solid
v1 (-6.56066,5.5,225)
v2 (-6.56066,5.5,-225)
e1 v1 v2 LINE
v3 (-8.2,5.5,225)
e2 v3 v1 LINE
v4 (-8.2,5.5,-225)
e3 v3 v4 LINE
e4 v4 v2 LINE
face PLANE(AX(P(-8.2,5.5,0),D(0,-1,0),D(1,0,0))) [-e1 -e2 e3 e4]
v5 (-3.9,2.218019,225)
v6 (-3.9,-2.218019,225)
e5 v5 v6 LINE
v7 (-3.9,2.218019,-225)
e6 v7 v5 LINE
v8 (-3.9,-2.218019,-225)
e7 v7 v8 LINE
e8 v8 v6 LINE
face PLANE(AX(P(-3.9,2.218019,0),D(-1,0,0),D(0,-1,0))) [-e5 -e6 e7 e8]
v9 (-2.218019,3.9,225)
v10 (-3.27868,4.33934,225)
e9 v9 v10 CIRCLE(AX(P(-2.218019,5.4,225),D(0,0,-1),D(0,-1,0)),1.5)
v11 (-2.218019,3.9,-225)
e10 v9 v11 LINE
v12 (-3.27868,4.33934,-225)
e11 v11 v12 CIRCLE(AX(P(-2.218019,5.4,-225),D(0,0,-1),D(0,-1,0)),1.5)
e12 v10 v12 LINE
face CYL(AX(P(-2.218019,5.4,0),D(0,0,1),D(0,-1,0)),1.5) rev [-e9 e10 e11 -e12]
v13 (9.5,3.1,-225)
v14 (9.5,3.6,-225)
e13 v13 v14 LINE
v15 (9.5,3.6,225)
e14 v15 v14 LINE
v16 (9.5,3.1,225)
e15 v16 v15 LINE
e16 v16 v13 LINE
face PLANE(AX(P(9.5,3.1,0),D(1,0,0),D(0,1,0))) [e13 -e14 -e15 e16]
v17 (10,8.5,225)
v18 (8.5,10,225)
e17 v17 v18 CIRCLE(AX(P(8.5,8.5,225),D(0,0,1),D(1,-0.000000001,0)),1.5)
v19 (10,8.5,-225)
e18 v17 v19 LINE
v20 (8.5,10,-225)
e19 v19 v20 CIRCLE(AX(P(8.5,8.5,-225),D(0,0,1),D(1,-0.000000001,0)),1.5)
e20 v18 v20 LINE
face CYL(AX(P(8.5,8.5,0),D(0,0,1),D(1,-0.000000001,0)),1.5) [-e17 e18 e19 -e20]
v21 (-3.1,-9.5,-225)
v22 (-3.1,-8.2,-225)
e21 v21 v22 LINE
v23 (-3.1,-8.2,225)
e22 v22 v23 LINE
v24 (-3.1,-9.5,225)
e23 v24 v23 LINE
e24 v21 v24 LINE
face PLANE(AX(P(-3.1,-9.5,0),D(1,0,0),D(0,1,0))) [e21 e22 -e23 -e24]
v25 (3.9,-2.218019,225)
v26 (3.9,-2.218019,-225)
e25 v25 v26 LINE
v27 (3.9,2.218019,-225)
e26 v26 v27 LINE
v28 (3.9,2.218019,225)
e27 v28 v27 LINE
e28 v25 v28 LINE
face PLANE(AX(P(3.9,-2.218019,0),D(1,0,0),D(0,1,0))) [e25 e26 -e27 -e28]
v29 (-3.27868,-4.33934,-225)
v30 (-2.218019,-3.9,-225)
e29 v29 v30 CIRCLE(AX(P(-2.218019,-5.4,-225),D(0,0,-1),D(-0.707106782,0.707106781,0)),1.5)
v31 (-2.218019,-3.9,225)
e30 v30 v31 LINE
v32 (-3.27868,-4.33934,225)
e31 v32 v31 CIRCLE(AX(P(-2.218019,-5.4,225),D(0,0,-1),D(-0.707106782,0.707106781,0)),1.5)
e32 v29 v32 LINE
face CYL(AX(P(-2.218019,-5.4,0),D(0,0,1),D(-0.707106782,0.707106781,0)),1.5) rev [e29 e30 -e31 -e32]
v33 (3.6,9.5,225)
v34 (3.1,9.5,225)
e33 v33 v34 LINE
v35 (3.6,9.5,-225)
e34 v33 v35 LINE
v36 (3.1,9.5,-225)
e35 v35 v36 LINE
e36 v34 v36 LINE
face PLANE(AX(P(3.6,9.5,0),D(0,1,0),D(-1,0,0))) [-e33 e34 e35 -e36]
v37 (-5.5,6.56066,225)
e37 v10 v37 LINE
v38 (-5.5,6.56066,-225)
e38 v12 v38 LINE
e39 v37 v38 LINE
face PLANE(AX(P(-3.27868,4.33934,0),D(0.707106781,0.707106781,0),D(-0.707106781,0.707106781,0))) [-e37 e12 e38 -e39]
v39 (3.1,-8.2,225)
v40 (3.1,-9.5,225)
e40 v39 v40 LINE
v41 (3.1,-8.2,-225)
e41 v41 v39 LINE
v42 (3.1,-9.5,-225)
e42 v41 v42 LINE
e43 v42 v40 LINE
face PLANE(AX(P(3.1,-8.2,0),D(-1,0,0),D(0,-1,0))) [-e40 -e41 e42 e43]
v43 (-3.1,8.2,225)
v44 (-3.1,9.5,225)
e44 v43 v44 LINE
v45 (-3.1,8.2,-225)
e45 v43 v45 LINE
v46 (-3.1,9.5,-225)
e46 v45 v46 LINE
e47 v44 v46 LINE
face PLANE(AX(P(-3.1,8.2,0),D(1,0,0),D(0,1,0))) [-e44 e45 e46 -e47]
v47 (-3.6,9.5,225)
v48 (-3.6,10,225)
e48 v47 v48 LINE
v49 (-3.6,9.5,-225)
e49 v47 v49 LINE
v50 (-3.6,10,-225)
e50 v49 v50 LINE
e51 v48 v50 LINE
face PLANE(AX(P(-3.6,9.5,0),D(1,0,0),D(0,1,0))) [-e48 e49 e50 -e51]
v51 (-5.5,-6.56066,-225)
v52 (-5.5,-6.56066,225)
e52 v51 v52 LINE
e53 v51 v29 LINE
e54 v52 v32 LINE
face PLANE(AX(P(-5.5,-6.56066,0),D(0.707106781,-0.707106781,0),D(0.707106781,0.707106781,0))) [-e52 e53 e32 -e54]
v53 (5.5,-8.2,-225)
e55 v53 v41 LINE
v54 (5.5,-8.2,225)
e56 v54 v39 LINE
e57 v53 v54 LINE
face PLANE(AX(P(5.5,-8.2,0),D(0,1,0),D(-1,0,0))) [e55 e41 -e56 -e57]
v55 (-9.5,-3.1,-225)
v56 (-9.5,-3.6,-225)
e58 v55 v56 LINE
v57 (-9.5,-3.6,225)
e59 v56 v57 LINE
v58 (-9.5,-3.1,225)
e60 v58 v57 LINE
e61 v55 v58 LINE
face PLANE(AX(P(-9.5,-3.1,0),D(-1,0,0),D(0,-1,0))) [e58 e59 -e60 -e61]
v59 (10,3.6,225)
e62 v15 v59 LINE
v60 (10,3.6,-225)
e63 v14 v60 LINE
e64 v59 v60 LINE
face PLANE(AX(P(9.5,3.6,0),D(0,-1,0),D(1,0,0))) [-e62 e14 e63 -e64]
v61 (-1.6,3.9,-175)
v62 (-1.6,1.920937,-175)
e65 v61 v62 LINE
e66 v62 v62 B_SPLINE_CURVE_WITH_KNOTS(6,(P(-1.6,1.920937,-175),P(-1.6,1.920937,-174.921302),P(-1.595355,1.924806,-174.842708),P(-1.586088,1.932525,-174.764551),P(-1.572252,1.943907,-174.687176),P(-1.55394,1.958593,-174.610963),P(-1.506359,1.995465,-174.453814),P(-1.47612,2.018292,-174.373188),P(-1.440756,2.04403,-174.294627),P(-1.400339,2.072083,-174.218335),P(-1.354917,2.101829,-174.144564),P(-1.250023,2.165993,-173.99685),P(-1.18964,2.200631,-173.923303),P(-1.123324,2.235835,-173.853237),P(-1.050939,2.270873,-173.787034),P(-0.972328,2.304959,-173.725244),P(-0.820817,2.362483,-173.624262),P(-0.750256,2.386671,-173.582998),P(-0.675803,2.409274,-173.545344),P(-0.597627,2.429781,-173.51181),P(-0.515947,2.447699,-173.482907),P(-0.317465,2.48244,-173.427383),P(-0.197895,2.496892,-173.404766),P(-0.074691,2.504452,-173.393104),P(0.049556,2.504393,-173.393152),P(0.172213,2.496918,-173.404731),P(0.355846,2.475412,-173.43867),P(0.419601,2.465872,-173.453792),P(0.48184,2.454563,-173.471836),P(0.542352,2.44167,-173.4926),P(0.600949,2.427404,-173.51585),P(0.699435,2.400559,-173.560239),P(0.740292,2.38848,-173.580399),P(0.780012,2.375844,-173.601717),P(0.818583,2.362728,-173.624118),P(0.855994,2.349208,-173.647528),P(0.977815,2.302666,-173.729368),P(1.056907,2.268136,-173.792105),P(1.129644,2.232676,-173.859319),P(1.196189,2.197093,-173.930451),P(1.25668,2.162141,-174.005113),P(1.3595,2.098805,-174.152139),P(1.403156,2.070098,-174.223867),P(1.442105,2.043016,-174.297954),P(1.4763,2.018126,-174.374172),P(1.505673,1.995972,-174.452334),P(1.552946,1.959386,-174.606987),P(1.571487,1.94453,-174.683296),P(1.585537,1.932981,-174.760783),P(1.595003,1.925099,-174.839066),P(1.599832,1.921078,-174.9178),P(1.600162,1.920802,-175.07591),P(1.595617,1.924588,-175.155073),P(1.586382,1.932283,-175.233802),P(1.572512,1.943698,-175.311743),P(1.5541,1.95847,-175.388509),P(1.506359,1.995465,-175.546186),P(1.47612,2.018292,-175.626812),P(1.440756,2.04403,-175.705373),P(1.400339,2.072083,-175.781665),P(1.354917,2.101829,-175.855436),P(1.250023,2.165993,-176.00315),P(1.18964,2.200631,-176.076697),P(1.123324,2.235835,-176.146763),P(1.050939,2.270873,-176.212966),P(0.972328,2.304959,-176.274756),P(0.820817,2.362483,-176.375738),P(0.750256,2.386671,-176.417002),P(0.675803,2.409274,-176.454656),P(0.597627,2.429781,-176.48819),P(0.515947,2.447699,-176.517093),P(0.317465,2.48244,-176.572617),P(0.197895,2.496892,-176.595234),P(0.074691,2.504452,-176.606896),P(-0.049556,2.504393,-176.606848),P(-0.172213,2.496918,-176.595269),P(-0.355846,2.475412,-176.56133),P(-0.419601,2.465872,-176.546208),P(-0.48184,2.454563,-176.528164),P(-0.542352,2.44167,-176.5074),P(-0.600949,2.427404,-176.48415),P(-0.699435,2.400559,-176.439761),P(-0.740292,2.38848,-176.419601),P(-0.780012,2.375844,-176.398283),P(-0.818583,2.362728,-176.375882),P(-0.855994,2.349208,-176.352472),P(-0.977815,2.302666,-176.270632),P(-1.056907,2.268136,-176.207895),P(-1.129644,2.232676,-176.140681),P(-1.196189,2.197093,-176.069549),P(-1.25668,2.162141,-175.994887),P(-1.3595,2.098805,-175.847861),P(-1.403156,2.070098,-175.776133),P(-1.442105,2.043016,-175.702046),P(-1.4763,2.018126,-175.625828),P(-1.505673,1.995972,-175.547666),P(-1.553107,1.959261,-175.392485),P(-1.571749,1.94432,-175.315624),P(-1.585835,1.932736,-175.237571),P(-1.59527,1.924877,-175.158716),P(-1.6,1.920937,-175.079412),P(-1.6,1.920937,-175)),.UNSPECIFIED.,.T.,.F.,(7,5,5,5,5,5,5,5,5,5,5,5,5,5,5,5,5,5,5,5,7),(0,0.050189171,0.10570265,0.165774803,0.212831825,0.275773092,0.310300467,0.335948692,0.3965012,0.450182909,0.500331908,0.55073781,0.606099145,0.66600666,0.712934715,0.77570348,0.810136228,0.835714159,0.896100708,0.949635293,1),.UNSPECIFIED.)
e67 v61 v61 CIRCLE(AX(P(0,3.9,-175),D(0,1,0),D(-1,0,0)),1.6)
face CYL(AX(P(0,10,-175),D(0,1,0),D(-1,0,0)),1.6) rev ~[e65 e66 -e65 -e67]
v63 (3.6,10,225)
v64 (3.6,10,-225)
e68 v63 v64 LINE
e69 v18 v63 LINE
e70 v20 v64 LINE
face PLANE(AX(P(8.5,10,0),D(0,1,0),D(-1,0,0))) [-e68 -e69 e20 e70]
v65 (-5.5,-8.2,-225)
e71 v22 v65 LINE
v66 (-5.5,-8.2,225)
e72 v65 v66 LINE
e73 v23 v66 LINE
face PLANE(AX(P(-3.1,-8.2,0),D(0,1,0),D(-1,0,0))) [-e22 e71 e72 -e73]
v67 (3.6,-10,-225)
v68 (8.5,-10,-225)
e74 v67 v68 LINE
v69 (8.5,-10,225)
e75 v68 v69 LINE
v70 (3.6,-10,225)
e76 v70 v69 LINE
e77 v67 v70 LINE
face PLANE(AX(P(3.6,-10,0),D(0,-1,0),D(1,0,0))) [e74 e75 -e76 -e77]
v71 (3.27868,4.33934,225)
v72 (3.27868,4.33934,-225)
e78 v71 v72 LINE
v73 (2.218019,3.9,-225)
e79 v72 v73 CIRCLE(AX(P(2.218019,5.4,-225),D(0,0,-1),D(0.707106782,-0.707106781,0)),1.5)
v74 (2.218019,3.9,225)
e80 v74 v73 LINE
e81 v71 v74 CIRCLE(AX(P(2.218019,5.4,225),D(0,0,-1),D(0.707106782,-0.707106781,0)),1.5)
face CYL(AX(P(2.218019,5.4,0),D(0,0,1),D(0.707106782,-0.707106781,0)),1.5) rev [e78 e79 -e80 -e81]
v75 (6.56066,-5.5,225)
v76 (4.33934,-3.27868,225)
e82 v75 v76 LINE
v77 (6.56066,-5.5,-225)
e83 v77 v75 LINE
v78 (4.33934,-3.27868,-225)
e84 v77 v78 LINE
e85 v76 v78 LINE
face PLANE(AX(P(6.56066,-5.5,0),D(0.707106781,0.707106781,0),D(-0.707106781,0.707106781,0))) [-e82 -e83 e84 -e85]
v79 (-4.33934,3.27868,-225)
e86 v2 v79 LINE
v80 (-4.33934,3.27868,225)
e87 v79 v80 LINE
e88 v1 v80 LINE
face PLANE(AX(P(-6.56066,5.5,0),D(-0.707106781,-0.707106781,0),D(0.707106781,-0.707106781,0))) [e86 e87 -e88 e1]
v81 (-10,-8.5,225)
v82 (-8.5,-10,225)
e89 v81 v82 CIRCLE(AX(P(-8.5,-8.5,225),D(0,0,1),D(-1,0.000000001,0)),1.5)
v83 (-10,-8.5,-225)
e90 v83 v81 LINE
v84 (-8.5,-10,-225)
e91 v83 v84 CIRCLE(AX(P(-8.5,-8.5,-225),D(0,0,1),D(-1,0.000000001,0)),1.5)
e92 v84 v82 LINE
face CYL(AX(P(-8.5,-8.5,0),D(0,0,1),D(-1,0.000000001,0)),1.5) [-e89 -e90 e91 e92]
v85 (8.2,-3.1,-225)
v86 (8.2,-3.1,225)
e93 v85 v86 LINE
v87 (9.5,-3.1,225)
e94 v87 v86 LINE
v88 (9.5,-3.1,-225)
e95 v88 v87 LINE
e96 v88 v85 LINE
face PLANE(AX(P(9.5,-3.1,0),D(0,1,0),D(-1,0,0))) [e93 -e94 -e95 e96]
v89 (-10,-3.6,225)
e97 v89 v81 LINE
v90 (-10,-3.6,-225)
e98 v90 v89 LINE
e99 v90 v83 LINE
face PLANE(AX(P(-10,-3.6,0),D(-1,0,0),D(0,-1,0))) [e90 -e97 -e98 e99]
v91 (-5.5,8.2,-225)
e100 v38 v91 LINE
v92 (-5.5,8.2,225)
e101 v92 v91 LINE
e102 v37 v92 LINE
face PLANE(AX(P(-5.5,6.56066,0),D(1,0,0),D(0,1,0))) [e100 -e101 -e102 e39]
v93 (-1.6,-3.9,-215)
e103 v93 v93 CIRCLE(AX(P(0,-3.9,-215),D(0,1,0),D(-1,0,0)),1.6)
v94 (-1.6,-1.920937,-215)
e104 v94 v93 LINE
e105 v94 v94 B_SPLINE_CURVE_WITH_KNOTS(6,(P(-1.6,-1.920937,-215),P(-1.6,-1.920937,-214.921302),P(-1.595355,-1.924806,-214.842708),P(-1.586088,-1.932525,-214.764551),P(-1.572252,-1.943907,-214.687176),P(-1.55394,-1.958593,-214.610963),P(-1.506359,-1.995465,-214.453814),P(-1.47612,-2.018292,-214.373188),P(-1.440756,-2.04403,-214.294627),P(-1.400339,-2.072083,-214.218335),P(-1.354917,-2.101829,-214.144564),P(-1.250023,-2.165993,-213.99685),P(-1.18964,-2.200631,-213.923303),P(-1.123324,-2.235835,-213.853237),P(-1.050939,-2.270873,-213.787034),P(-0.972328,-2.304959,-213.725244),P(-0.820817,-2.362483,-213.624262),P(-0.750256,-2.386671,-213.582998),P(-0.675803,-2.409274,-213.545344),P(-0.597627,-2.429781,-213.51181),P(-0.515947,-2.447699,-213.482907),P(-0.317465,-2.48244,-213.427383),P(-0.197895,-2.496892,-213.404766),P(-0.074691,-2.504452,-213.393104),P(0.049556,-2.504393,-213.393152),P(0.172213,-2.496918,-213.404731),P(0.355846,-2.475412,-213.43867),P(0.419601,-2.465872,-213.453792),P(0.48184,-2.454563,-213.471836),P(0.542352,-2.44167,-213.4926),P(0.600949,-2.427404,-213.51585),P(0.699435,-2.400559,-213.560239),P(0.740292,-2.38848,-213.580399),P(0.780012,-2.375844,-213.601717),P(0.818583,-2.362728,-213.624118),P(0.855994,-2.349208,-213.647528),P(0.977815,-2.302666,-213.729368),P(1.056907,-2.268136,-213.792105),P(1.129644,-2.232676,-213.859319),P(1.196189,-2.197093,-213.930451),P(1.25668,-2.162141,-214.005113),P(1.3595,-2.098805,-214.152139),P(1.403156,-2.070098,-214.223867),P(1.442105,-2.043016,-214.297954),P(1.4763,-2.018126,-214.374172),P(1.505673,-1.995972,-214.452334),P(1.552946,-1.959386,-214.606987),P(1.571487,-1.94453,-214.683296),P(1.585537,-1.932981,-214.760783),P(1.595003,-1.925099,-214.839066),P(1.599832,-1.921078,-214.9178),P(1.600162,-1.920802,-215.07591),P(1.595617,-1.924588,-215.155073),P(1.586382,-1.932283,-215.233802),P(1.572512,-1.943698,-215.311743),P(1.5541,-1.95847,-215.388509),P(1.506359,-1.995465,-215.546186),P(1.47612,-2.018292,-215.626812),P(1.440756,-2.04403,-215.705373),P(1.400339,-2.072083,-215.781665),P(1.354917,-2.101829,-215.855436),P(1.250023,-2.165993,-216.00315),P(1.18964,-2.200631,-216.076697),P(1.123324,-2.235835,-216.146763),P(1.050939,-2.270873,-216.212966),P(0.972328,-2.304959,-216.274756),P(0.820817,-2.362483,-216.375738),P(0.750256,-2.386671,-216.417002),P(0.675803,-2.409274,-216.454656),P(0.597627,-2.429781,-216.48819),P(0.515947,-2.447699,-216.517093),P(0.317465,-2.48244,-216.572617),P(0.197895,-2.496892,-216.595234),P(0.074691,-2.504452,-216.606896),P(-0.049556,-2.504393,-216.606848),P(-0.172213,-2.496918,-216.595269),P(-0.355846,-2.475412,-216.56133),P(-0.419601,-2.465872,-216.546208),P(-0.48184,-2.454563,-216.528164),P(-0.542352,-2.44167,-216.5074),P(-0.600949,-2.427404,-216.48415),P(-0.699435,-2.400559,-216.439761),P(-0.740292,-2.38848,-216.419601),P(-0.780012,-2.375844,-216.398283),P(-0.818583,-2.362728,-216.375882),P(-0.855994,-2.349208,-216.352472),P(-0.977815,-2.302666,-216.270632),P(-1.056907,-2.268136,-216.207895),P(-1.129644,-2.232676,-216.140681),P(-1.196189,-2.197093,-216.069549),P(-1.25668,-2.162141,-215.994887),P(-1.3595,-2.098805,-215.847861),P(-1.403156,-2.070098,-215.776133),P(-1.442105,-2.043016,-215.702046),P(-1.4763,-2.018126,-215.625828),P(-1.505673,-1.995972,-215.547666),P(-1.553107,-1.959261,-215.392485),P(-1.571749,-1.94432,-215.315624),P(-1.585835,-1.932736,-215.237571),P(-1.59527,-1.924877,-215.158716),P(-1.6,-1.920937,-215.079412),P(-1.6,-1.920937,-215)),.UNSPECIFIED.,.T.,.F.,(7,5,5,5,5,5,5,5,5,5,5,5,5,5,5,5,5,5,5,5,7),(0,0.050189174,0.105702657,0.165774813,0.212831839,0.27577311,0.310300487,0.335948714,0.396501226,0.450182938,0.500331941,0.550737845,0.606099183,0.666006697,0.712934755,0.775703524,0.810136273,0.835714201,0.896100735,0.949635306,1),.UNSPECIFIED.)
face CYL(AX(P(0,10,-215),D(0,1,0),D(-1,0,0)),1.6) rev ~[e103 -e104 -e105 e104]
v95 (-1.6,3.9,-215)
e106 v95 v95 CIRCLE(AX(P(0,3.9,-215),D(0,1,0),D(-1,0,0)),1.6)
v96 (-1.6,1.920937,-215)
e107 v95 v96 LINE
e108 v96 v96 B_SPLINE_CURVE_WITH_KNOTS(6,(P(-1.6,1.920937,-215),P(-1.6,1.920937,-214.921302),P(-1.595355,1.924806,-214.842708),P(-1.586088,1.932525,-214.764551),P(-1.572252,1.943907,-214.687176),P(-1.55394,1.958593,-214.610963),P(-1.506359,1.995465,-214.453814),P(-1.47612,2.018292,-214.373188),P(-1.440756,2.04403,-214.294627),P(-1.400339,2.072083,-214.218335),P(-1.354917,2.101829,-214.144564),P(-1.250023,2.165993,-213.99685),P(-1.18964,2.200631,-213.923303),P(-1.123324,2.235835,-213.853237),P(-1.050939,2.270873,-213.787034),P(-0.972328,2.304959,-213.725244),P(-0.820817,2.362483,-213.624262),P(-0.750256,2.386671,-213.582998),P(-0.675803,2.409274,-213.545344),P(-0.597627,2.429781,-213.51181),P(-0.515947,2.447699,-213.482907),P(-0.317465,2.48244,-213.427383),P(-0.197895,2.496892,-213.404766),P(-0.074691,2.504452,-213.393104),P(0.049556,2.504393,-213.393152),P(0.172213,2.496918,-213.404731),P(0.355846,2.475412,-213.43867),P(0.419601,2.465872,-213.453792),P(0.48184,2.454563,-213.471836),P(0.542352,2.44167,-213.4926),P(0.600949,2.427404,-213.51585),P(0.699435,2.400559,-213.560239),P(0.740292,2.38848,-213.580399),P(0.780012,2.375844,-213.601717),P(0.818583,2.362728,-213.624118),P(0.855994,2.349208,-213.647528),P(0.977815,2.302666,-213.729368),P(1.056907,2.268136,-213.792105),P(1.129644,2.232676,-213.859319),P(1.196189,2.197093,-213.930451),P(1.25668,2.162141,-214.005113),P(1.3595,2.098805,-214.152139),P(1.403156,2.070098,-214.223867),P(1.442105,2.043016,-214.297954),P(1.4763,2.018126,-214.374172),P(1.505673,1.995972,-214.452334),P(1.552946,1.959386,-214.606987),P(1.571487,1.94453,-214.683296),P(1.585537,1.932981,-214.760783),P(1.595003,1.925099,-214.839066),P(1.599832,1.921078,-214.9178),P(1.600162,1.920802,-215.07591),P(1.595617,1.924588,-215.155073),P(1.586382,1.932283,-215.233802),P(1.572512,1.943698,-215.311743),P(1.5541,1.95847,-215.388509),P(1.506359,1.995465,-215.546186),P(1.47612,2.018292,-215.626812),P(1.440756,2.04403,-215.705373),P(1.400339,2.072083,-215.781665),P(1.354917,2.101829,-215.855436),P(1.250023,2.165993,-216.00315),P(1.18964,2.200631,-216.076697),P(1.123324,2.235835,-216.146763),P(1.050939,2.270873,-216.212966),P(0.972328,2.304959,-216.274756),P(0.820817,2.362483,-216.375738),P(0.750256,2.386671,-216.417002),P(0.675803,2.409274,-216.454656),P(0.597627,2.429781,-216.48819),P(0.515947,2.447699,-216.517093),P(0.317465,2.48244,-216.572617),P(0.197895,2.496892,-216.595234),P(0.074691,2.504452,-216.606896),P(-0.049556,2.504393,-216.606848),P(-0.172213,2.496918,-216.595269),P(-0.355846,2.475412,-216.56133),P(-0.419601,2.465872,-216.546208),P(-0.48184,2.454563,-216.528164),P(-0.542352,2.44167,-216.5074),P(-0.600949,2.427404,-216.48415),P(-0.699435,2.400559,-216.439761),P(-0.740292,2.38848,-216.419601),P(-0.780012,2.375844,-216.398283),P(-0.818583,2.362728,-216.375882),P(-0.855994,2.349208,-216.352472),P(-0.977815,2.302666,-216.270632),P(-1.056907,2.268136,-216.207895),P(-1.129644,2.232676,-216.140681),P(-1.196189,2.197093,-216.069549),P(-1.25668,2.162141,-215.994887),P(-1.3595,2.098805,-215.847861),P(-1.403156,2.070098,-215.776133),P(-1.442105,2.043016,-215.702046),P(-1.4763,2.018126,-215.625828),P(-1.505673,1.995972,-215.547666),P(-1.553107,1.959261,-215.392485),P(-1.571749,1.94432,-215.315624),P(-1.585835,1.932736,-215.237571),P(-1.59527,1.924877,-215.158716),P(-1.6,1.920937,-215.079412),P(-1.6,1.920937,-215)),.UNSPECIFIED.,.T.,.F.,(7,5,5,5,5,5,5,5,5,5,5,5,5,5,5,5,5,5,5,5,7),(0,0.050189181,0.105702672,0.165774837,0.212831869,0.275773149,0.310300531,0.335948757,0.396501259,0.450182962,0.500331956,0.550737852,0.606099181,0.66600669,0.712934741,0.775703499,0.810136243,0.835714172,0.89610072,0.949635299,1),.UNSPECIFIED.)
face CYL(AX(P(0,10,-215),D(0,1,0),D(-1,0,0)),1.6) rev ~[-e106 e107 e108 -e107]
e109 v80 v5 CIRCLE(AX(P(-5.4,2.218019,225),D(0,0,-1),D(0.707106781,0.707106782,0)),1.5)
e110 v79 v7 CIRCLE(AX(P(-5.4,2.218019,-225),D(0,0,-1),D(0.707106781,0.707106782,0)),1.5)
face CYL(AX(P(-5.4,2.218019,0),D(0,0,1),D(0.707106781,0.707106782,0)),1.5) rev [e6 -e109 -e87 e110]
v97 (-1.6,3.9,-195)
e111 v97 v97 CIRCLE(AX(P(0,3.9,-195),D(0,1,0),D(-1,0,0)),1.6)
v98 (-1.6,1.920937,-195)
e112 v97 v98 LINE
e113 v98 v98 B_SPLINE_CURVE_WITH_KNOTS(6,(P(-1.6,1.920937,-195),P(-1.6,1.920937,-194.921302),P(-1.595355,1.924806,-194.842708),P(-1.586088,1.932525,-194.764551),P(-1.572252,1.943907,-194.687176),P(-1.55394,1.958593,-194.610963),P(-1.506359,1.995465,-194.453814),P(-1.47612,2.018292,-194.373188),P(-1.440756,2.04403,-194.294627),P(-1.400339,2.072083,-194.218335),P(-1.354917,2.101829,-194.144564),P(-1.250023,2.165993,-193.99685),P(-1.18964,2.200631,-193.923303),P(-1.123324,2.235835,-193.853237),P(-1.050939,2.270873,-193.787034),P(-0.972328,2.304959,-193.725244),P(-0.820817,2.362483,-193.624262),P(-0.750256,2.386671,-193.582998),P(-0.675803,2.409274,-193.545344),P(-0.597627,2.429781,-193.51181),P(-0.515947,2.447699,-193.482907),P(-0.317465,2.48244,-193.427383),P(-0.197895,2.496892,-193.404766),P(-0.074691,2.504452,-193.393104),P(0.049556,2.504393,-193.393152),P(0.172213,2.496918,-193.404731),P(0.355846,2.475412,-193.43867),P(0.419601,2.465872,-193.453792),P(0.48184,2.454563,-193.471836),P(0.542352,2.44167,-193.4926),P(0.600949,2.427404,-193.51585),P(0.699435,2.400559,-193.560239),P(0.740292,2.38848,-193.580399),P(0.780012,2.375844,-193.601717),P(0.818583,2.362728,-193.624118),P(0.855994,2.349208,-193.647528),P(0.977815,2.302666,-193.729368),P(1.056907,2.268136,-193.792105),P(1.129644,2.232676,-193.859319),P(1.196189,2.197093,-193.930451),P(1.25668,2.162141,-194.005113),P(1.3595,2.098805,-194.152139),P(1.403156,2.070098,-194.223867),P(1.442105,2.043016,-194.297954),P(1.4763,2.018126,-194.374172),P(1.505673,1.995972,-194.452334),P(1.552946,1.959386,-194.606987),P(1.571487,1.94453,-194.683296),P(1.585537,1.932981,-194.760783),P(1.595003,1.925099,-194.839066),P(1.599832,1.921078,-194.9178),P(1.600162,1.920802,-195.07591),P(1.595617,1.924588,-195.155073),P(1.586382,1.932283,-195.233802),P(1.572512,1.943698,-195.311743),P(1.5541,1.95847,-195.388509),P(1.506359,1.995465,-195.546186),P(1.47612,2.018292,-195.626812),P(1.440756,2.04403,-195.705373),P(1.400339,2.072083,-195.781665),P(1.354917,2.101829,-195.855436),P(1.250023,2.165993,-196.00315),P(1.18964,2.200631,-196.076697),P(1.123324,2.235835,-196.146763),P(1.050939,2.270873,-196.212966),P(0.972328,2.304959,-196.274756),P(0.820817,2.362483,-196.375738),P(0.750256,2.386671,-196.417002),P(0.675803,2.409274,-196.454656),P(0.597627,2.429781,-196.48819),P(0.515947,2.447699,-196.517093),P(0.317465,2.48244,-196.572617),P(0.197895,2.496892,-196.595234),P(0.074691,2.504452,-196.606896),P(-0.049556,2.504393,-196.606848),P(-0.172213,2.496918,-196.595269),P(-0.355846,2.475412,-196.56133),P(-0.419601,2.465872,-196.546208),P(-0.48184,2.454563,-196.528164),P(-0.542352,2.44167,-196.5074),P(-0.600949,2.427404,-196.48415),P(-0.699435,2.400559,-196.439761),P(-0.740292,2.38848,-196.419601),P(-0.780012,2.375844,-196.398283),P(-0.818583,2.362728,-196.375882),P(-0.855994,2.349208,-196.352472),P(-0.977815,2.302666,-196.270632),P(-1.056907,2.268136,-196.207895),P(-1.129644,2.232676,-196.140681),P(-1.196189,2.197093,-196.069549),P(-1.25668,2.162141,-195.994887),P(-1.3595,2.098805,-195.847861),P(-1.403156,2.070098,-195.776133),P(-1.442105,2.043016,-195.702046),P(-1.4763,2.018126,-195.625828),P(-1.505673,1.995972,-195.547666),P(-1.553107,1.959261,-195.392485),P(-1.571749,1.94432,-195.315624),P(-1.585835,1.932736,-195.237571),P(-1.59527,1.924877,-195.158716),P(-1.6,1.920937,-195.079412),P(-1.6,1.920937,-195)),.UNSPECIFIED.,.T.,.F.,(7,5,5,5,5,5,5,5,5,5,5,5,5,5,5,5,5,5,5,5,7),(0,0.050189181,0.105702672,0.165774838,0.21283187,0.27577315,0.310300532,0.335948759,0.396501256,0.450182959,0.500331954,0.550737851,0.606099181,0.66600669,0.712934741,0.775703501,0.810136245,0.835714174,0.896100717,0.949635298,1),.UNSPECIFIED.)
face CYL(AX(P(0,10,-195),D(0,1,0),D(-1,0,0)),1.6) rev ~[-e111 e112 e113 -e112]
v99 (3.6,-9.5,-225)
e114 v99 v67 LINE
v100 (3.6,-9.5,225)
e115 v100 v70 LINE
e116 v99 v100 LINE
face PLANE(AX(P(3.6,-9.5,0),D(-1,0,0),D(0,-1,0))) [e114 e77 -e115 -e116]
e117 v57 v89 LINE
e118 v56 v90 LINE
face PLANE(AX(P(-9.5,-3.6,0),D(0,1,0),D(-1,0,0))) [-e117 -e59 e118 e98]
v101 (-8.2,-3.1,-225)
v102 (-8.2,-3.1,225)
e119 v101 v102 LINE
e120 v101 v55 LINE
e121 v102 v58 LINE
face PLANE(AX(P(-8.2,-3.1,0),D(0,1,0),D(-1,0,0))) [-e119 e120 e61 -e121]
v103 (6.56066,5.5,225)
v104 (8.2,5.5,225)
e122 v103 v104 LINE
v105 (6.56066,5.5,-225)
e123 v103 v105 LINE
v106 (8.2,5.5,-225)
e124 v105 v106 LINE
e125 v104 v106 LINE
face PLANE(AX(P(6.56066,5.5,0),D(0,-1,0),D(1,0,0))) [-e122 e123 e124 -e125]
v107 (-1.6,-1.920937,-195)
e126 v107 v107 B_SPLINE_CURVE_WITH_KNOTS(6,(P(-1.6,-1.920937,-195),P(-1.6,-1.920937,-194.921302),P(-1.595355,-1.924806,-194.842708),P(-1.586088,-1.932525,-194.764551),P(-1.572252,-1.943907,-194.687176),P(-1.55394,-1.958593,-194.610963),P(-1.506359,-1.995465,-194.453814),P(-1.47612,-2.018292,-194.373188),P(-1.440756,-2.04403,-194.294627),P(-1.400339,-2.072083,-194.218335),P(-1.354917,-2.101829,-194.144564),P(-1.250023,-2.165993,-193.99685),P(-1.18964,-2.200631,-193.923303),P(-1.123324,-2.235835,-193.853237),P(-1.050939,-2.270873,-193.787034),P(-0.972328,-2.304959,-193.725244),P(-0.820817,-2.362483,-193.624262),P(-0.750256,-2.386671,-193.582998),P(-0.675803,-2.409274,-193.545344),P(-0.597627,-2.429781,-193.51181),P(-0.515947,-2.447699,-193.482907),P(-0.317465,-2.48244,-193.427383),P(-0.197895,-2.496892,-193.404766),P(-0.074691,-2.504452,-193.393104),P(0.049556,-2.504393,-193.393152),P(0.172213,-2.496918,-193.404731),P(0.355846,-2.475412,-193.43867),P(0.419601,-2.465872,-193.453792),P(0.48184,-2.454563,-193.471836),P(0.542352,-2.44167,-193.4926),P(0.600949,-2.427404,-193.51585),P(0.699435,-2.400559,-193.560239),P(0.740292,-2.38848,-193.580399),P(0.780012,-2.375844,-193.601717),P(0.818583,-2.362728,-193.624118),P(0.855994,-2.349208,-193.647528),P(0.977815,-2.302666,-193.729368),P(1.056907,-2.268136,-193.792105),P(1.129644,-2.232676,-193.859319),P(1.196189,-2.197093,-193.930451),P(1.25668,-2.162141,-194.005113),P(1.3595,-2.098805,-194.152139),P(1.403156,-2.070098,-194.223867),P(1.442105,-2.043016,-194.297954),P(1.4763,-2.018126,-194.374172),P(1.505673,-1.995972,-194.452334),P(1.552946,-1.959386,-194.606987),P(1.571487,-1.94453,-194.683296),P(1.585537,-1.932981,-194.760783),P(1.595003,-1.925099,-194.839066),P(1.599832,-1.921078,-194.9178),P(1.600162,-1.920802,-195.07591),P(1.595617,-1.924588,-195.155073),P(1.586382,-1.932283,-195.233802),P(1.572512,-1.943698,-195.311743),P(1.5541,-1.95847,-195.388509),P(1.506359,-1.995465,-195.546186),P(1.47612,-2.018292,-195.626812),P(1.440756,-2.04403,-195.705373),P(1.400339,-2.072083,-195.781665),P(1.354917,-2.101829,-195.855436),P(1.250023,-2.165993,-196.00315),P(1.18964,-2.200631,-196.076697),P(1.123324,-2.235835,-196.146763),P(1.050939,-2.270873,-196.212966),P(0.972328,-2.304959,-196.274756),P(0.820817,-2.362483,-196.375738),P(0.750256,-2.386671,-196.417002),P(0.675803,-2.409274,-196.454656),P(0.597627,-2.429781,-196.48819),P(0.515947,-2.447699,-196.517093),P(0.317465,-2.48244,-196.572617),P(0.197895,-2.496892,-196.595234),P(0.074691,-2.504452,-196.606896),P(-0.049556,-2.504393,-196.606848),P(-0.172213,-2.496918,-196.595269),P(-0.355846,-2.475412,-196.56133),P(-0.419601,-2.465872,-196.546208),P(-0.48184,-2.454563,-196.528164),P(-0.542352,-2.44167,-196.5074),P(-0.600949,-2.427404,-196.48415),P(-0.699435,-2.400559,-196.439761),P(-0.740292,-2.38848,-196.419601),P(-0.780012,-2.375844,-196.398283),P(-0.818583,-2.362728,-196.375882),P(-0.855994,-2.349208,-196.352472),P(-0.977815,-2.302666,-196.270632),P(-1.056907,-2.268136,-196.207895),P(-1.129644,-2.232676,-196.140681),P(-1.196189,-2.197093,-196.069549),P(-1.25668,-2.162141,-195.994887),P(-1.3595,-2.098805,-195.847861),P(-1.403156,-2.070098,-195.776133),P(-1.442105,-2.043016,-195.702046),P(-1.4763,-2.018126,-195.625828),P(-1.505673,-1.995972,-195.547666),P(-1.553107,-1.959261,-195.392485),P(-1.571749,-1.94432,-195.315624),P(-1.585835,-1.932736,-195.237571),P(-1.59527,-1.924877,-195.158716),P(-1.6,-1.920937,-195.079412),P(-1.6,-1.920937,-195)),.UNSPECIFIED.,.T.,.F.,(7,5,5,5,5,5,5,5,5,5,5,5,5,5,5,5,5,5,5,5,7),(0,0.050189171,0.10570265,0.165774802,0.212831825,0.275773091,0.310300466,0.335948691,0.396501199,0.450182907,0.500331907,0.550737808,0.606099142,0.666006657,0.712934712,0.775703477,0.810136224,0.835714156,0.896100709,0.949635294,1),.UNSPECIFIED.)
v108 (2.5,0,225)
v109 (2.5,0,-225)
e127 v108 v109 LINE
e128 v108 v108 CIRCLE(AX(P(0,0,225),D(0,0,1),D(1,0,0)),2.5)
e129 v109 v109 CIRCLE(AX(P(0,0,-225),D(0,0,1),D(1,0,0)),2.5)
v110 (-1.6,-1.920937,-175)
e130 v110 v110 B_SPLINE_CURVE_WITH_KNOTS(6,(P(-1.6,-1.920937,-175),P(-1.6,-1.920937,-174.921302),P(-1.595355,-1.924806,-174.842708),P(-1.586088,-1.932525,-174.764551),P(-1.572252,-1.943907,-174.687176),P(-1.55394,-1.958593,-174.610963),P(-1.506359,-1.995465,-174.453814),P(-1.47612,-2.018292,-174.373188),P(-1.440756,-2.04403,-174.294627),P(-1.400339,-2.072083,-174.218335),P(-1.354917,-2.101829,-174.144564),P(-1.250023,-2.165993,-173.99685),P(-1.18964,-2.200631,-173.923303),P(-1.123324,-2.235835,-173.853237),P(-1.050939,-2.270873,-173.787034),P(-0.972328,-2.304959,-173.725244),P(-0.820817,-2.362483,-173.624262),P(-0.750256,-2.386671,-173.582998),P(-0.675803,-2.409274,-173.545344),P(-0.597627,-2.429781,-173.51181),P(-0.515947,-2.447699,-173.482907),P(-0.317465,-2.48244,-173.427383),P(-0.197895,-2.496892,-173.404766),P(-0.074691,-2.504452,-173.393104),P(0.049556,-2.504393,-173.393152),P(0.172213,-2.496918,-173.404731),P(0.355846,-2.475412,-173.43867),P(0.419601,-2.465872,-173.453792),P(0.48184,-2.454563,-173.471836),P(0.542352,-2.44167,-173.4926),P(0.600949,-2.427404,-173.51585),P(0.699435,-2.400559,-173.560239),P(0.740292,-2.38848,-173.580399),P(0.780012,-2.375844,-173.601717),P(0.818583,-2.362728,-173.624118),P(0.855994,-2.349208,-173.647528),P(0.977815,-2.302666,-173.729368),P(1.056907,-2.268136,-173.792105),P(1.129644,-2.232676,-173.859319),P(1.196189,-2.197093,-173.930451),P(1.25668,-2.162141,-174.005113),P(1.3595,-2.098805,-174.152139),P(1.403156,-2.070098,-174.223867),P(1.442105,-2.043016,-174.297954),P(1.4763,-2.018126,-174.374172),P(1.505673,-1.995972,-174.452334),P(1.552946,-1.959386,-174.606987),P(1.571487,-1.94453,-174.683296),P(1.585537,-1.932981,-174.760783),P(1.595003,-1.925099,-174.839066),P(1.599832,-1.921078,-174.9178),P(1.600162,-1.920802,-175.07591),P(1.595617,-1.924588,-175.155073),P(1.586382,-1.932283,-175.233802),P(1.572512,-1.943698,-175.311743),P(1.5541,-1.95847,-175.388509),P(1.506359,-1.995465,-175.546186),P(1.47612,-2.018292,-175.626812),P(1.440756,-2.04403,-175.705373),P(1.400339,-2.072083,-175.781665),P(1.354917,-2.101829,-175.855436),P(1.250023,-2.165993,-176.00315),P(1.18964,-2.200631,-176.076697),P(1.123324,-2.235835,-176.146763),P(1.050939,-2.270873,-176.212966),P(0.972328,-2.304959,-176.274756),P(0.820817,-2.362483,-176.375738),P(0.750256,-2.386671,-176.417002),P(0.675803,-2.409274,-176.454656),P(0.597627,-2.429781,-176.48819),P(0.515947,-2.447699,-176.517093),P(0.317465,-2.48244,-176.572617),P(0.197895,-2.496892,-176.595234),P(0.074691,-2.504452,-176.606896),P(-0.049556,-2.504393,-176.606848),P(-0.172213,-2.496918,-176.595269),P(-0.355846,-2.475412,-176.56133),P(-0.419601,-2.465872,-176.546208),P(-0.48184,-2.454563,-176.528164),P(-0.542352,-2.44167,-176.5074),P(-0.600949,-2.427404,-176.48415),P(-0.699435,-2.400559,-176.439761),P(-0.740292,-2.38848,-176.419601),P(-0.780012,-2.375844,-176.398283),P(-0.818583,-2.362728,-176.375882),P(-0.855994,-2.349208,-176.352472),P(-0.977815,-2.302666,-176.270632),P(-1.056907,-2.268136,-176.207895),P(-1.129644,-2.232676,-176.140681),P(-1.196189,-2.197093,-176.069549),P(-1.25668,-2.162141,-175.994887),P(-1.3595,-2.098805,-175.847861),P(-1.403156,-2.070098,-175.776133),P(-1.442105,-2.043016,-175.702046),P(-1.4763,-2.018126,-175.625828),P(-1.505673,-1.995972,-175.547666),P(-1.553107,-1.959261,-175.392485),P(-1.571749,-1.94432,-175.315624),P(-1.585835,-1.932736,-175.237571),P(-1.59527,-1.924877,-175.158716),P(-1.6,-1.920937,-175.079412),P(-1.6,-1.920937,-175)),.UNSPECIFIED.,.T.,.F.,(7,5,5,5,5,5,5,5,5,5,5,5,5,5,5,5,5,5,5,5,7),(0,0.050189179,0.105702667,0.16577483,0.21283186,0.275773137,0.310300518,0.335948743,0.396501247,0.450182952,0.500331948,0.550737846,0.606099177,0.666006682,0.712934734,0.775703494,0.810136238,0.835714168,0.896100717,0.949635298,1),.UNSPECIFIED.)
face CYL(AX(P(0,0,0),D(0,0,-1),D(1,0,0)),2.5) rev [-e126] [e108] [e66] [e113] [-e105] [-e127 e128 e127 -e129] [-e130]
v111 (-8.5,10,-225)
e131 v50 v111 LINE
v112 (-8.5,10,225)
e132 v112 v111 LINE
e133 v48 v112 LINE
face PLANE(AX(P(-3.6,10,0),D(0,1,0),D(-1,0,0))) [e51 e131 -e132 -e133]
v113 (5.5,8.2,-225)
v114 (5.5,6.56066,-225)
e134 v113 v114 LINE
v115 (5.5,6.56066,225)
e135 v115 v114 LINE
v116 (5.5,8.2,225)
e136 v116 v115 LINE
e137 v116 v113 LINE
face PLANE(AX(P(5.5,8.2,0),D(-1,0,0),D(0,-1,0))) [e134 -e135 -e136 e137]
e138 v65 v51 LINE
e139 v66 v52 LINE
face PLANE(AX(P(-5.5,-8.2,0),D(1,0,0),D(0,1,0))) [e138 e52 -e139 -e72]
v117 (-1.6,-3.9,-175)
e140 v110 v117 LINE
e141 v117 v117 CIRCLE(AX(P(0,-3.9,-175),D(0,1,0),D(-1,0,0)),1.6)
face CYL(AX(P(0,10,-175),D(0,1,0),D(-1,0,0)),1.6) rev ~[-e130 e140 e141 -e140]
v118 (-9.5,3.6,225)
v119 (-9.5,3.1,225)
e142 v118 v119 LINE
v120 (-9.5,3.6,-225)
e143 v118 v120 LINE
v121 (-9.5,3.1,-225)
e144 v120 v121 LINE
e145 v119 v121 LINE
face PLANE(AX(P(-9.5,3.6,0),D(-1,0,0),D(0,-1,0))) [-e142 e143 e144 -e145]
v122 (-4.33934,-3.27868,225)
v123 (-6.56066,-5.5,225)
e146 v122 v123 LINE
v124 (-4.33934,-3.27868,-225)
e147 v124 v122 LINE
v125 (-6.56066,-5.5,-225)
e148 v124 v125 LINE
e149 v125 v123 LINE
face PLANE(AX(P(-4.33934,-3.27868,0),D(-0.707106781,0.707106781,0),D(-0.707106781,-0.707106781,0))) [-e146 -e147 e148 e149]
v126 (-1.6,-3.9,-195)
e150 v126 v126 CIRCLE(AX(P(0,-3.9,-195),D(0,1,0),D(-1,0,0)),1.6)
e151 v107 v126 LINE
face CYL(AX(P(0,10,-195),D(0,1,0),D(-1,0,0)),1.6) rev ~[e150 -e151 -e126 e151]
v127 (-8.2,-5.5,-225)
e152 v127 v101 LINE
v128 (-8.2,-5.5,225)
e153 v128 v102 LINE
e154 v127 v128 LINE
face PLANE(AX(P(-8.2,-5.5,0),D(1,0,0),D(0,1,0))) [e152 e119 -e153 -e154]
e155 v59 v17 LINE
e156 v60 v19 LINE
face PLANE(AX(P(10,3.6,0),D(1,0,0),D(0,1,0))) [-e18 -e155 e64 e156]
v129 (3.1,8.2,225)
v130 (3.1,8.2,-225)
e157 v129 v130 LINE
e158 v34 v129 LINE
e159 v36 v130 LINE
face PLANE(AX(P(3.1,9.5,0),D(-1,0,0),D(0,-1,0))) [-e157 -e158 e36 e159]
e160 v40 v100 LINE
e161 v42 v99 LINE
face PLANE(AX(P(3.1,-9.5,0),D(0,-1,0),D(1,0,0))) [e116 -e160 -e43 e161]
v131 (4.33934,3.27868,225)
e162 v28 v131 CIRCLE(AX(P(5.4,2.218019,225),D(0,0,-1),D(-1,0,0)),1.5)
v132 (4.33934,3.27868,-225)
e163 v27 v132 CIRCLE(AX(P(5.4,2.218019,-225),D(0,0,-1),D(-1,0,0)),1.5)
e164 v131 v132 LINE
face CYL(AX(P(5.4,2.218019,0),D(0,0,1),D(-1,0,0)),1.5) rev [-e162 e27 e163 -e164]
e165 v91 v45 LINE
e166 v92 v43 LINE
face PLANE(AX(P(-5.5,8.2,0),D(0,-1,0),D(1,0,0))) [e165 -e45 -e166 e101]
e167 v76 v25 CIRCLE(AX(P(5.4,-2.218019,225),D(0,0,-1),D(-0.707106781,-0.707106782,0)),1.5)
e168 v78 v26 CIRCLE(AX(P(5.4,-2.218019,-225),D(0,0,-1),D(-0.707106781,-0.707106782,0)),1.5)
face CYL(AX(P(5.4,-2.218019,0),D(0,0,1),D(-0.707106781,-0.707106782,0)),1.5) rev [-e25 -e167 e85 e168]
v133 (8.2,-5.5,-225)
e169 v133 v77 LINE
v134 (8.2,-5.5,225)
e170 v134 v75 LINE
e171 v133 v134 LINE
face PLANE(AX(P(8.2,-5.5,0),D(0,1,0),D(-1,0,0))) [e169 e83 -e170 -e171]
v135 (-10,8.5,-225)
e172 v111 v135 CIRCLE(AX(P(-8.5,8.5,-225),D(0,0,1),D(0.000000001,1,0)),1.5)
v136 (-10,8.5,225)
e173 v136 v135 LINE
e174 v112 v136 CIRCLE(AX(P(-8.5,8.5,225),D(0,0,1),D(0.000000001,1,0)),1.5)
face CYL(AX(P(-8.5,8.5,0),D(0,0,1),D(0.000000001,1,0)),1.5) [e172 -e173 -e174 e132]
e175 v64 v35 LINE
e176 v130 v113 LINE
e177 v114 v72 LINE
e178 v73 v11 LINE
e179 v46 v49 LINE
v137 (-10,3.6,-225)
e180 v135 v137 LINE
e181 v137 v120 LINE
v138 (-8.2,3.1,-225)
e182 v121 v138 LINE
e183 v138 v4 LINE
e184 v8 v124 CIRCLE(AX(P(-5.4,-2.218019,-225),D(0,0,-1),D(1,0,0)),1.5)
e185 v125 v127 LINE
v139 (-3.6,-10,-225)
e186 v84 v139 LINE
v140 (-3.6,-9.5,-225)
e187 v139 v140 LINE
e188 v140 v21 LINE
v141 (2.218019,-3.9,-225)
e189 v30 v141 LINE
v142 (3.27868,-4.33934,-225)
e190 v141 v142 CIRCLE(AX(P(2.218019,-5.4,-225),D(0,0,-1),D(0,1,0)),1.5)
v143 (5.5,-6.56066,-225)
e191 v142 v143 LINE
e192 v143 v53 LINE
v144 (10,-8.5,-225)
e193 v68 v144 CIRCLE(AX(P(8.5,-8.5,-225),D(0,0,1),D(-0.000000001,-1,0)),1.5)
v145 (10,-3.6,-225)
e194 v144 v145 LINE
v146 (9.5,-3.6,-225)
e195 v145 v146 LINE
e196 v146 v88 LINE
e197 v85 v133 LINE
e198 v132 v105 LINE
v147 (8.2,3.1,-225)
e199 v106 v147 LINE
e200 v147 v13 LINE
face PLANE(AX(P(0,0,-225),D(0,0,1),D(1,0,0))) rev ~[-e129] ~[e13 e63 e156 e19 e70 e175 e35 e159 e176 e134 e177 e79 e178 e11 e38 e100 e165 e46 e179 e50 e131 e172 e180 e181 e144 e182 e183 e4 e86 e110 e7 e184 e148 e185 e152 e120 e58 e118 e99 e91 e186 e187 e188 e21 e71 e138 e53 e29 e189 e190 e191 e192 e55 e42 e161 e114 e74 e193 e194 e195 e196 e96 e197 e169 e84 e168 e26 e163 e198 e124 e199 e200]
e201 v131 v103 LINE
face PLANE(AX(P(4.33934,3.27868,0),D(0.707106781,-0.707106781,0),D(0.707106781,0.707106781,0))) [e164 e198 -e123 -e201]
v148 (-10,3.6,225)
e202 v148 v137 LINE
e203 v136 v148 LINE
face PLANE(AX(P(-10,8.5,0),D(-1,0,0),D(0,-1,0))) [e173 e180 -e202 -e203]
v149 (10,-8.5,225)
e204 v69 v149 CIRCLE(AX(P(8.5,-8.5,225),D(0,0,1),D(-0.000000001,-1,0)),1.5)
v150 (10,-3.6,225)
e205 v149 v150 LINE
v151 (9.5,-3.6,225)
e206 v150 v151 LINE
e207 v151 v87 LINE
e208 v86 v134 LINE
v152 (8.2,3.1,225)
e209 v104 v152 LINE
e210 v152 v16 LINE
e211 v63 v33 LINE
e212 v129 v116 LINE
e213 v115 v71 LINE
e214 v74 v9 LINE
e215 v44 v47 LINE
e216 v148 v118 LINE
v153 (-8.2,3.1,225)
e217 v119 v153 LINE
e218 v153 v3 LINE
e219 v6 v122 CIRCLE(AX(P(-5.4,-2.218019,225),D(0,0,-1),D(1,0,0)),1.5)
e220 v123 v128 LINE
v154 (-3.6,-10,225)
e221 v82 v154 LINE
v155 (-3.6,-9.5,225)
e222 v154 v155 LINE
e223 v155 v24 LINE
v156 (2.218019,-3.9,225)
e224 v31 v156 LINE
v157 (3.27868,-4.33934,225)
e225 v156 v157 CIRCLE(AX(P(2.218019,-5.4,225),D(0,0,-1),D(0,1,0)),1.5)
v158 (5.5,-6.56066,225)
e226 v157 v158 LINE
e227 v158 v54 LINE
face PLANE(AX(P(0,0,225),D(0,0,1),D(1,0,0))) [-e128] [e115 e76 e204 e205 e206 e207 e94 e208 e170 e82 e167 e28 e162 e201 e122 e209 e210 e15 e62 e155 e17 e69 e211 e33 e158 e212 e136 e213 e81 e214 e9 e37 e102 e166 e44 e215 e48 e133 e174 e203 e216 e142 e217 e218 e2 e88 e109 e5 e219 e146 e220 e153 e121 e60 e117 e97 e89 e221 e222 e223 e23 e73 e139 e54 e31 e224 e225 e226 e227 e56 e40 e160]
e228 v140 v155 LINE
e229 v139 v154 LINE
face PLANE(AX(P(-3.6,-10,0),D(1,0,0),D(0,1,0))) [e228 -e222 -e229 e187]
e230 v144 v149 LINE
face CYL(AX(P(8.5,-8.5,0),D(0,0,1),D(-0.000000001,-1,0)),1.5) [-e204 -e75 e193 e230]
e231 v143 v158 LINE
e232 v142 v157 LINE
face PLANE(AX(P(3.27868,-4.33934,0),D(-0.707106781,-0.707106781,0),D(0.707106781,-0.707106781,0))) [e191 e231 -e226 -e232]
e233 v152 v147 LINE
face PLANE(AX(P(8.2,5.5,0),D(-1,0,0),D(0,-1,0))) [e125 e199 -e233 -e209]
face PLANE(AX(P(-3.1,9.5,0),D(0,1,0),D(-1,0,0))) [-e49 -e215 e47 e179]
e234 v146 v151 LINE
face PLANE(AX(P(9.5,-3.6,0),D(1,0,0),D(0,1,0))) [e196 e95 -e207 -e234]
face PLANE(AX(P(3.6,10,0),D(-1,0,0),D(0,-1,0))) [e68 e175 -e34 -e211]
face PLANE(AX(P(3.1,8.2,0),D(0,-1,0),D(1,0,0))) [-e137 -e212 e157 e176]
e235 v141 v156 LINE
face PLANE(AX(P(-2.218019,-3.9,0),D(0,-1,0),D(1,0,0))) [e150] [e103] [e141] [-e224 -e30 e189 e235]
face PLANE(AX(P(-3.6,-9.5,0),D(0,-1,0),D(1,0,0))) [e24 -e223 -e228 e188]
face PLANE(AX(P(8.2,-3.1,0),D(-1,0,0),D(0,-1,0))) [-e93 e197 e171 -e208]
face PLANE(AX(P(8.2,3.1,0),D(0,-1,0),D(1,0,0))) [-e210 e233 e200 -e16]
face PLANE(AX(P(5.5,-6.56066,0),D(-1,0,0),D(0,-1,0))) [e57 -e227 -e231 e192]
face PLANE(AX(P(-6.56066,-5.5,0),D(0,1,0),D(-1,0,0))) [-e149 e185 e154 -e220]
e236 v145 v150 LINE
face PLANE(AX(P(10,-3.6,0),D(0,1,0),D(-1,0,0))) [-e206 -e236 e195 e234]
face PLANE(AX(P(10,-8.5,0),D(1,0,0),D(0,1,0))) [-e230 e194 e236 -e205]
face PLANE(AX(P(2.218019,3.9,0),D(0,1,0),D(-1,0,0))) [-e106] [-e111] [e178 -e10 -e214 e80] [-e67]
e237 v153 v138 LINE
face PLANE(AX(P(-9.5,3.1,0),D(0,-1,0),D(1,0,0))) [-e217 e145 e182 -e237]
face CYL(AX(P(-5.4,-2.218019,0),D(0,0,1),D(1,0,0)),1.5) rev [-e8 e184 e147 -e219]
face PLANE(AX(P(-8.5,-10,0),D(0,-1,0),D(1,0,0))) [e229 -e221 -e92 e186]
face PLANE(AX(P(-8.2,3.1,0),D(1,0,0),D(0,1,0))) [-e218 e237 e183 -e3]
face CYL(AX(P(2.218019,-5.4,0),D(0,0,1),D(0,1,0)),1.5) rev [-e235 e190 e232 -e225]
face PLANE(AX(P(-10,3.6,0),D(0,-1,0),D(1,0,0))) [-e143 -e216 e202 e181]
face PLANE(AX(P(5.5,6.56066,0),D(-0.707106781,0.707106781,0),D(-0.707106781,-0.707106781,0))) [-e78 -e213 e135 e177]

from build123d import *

# Parameters (mm, degrees)
SKETCH_1_R          = 2.5
EXTRUDE_1_DEPTH     = 225
SKETCH_2_R          = 1.6
CUT_EXTRUDE_1_DEPTH = 227.108381092


with BuildPart() as part:
    # 草图1 → 凸台-拉伸1 (new, symmetric)
    with BuildSketch(Plane.XY):
        with BuildLine():
            Line((-6.560660172, 5.5), (-4.339339828, 3.278679656))
            ThreePointArc((-4.339339828, 3.278679656), (-4.014180701, 2.792044633), (-3.9, 2.218019485))
            Line((-3.9, 2.218019485), (-3.9, -2.218019485))
            ThreePointArc((-3.9, -2.218019485), (-4.014180701, -2.792044633), (-4.339339828, -3.278679656))
            Line((-4.339339828, -3.278679656), (-6.560660172, -5.5))
            Line((-6.560660172, -5.5), (-8.2, -5.5))
            Line((-8.2, -5.5), (-8.2, -3.1))
            Line((-8.2, -3.1), (-9.5, -3.1))
            Line((-9.5, -3.1), (-9.5, -3.6))
            Line((-9.5, -3.6), (-10, -3.6))
            Line((-10, -3.6), (-10, -8.5))
            ThreePointArc((-10, -8.5), (-9.560660172, -9.560660172), (-8.5, -10))
            Line((-8.5, -10), (-3.6, -10))
            Line((-3.6, -10), (-3.6, -9.5))
            Line((-3.6, -9.5), (-3.1, -9.5))
            Line((-3.1, -9.5), (-3.1, -8.2))
            Line((-3.1, -8.2), (-5.5, -8.2))
            Line((-5.5, -8.2), (-5.5, -6.560660172))
            Line((-5.5, -6.560660172), (-3.278679656, -4.339339828))
            ThreePointArc((-3.278679656, -4.339339828), (-2.792044633, -4.014180701), (-2.218019485, -3.9))
            Line((-2.218019485, -3.9), (2.218019485, -3.9))
            ThreePointArc((2.218019485, -3.9), (2.792044633, -4.014180701), (3.278679656, -4.339339828))
            Line((3.278679656, -4.339339828), (5.5, -6.560660172))
            Line((5.5, -6.560660172), (5.5, -8.2))
            Line((5.5, -8.2), (3.1, -8.2))
            Line((3.1, -8.2), (3.1, -9.5))
            Line((3.1, -9.5), (3.6, -9.5))
            Line((3.6, -9.5), (3.6, -10))
            Line((3.6, -10), (8.5, -10))
            ThreePointArc((8.5, -10), (9.560660172, -9.560660172), (10, -8.5))
            Line((10, -8.5), (10, -3.6))
            Line((10, -3.6), (9.5, -3.6))
            Line((9.5, -3.6), (9.5, -3.1))
            Line((9.5, -3.1), (8.2, -3.1))
            Line((8.2, -3.1), (8.2, -5.5))
            Line((8.2, -5.5), (6.560660172, -5.5))
            Line((6.560660172, -5.5), (4.339339828, -3.278679656))
            ThreePointArc((4.339339828, -3.278679656), (4.014180701, -2.792044633), (3.9, -2.218019485))
            Line((3.9, -2.218019485), (3.9, 2.218019485))
            ThreePointArc((3.9, 2.218019485), (4.014180701, 2.792044633), (4.339339828, 3.278679656))
            Line((4.339339828, 3.278679656), (6.560660172, 5.5))
            Line((6.560660172, 5.5), (8.2, 5.5))
            Line((8.2, 5.5), (8.2, 3.1))
            Line((8.2, 3.1), (9.5, 3.1))
            Line((9.5, 3.1), (9.5, 3.6))
            Line((9.5, 3.6), (10, 3.6))
            Line((10, 3.6), (10, 8.5))
            ThreePointArc((10, 8.5), (9.560660172, 9.560660172), (8.5, 10))
            Line((8.5, 10), (3.6, 10))
            Line((3.6, 10), (3.6, 9.5))
            Line((3.6, 9.5), (3.1, 9.5))
            Line((3.1, 9.5), (3.1, 8.2))
            Line((3.1, 8.2), (5.5, 8.2))
            Line((5.5, 8.2), (5.5, 6.560660172))
            Line((5.5, 6.560660172), (3.278679656, 4.339339828))
            ThreePointArc((3.278679656, 4.339339828), (2.792044633, 4.014180701), (2.218019485, 3.9))
            Line((2.218019485, 3.9), (-2.218019485, 3.9))
            ThreePointArc((-2.218019485, 3.9), (-2.792044633, 4.014180701), (-3.278679656, 4.339339828))
            Line((-3.278679656, 4.339339828), (-5.5, 6.560660172))
            Line((-5.5, 6.560660172), (-5.5, 8.2))
            Line((-5.5, 8.2), (-3.1, 8.2))
            Line((-3.1, 8.2), (-3.1, 9.5))
            Line((-3.1, 9.5), (-3.6, 9.5))
            Line((-3.6, 9.5), (-3.6, 10))
            Line((-3.6, 10), (-8.5, 10))
            ThreePointArc((-8.5, 10), (-9.560660172, 9.560660172), (-10, 8.5))
            Line((-10, 8.5), (-10, 3.6))
            Line((-10, 3.6), (-9.5, 3.6))
            Line((-9.5, 3.6), (-9.5, 3.1))
            Line((-9.5, 3.1), (-8.2, 3.1))
            Line((-8.2, 3.1), (-8.2, 5.5))
            Line((-8.2, 5.5), (-6.560660172, 5.5))
        make_face()
        Circle(SKETCH_1_R, mode=Mode.SUBTRACT)
    extrude(amount=EXTRUDE_1_DEPTH, both=True)

    # 草图2 → 切除-拉伸1 (cut, through all)
    with BuildSketch(Plane(origin=(0, 10, 0), x_dir=(1, 0, 0), z_dir=(0, 1, 0))):
        with Locations(Location((0, 215, 0), (0, 0, 180))):
            Circle(SKETCH_2_R)
        with Locations(Location((0, 195, 0), (0, 0, 180))):
            Circle(SKETCH_2_R)
        with Locations(Location((0, 175, 0), (0, 0, 180))):
            Circle(SKETCH_2_R)
    extrude(amount=-CUT_EXTRUDE_1_DEPTH, mode=Mode.SUBTRACT)


solid = part.part
